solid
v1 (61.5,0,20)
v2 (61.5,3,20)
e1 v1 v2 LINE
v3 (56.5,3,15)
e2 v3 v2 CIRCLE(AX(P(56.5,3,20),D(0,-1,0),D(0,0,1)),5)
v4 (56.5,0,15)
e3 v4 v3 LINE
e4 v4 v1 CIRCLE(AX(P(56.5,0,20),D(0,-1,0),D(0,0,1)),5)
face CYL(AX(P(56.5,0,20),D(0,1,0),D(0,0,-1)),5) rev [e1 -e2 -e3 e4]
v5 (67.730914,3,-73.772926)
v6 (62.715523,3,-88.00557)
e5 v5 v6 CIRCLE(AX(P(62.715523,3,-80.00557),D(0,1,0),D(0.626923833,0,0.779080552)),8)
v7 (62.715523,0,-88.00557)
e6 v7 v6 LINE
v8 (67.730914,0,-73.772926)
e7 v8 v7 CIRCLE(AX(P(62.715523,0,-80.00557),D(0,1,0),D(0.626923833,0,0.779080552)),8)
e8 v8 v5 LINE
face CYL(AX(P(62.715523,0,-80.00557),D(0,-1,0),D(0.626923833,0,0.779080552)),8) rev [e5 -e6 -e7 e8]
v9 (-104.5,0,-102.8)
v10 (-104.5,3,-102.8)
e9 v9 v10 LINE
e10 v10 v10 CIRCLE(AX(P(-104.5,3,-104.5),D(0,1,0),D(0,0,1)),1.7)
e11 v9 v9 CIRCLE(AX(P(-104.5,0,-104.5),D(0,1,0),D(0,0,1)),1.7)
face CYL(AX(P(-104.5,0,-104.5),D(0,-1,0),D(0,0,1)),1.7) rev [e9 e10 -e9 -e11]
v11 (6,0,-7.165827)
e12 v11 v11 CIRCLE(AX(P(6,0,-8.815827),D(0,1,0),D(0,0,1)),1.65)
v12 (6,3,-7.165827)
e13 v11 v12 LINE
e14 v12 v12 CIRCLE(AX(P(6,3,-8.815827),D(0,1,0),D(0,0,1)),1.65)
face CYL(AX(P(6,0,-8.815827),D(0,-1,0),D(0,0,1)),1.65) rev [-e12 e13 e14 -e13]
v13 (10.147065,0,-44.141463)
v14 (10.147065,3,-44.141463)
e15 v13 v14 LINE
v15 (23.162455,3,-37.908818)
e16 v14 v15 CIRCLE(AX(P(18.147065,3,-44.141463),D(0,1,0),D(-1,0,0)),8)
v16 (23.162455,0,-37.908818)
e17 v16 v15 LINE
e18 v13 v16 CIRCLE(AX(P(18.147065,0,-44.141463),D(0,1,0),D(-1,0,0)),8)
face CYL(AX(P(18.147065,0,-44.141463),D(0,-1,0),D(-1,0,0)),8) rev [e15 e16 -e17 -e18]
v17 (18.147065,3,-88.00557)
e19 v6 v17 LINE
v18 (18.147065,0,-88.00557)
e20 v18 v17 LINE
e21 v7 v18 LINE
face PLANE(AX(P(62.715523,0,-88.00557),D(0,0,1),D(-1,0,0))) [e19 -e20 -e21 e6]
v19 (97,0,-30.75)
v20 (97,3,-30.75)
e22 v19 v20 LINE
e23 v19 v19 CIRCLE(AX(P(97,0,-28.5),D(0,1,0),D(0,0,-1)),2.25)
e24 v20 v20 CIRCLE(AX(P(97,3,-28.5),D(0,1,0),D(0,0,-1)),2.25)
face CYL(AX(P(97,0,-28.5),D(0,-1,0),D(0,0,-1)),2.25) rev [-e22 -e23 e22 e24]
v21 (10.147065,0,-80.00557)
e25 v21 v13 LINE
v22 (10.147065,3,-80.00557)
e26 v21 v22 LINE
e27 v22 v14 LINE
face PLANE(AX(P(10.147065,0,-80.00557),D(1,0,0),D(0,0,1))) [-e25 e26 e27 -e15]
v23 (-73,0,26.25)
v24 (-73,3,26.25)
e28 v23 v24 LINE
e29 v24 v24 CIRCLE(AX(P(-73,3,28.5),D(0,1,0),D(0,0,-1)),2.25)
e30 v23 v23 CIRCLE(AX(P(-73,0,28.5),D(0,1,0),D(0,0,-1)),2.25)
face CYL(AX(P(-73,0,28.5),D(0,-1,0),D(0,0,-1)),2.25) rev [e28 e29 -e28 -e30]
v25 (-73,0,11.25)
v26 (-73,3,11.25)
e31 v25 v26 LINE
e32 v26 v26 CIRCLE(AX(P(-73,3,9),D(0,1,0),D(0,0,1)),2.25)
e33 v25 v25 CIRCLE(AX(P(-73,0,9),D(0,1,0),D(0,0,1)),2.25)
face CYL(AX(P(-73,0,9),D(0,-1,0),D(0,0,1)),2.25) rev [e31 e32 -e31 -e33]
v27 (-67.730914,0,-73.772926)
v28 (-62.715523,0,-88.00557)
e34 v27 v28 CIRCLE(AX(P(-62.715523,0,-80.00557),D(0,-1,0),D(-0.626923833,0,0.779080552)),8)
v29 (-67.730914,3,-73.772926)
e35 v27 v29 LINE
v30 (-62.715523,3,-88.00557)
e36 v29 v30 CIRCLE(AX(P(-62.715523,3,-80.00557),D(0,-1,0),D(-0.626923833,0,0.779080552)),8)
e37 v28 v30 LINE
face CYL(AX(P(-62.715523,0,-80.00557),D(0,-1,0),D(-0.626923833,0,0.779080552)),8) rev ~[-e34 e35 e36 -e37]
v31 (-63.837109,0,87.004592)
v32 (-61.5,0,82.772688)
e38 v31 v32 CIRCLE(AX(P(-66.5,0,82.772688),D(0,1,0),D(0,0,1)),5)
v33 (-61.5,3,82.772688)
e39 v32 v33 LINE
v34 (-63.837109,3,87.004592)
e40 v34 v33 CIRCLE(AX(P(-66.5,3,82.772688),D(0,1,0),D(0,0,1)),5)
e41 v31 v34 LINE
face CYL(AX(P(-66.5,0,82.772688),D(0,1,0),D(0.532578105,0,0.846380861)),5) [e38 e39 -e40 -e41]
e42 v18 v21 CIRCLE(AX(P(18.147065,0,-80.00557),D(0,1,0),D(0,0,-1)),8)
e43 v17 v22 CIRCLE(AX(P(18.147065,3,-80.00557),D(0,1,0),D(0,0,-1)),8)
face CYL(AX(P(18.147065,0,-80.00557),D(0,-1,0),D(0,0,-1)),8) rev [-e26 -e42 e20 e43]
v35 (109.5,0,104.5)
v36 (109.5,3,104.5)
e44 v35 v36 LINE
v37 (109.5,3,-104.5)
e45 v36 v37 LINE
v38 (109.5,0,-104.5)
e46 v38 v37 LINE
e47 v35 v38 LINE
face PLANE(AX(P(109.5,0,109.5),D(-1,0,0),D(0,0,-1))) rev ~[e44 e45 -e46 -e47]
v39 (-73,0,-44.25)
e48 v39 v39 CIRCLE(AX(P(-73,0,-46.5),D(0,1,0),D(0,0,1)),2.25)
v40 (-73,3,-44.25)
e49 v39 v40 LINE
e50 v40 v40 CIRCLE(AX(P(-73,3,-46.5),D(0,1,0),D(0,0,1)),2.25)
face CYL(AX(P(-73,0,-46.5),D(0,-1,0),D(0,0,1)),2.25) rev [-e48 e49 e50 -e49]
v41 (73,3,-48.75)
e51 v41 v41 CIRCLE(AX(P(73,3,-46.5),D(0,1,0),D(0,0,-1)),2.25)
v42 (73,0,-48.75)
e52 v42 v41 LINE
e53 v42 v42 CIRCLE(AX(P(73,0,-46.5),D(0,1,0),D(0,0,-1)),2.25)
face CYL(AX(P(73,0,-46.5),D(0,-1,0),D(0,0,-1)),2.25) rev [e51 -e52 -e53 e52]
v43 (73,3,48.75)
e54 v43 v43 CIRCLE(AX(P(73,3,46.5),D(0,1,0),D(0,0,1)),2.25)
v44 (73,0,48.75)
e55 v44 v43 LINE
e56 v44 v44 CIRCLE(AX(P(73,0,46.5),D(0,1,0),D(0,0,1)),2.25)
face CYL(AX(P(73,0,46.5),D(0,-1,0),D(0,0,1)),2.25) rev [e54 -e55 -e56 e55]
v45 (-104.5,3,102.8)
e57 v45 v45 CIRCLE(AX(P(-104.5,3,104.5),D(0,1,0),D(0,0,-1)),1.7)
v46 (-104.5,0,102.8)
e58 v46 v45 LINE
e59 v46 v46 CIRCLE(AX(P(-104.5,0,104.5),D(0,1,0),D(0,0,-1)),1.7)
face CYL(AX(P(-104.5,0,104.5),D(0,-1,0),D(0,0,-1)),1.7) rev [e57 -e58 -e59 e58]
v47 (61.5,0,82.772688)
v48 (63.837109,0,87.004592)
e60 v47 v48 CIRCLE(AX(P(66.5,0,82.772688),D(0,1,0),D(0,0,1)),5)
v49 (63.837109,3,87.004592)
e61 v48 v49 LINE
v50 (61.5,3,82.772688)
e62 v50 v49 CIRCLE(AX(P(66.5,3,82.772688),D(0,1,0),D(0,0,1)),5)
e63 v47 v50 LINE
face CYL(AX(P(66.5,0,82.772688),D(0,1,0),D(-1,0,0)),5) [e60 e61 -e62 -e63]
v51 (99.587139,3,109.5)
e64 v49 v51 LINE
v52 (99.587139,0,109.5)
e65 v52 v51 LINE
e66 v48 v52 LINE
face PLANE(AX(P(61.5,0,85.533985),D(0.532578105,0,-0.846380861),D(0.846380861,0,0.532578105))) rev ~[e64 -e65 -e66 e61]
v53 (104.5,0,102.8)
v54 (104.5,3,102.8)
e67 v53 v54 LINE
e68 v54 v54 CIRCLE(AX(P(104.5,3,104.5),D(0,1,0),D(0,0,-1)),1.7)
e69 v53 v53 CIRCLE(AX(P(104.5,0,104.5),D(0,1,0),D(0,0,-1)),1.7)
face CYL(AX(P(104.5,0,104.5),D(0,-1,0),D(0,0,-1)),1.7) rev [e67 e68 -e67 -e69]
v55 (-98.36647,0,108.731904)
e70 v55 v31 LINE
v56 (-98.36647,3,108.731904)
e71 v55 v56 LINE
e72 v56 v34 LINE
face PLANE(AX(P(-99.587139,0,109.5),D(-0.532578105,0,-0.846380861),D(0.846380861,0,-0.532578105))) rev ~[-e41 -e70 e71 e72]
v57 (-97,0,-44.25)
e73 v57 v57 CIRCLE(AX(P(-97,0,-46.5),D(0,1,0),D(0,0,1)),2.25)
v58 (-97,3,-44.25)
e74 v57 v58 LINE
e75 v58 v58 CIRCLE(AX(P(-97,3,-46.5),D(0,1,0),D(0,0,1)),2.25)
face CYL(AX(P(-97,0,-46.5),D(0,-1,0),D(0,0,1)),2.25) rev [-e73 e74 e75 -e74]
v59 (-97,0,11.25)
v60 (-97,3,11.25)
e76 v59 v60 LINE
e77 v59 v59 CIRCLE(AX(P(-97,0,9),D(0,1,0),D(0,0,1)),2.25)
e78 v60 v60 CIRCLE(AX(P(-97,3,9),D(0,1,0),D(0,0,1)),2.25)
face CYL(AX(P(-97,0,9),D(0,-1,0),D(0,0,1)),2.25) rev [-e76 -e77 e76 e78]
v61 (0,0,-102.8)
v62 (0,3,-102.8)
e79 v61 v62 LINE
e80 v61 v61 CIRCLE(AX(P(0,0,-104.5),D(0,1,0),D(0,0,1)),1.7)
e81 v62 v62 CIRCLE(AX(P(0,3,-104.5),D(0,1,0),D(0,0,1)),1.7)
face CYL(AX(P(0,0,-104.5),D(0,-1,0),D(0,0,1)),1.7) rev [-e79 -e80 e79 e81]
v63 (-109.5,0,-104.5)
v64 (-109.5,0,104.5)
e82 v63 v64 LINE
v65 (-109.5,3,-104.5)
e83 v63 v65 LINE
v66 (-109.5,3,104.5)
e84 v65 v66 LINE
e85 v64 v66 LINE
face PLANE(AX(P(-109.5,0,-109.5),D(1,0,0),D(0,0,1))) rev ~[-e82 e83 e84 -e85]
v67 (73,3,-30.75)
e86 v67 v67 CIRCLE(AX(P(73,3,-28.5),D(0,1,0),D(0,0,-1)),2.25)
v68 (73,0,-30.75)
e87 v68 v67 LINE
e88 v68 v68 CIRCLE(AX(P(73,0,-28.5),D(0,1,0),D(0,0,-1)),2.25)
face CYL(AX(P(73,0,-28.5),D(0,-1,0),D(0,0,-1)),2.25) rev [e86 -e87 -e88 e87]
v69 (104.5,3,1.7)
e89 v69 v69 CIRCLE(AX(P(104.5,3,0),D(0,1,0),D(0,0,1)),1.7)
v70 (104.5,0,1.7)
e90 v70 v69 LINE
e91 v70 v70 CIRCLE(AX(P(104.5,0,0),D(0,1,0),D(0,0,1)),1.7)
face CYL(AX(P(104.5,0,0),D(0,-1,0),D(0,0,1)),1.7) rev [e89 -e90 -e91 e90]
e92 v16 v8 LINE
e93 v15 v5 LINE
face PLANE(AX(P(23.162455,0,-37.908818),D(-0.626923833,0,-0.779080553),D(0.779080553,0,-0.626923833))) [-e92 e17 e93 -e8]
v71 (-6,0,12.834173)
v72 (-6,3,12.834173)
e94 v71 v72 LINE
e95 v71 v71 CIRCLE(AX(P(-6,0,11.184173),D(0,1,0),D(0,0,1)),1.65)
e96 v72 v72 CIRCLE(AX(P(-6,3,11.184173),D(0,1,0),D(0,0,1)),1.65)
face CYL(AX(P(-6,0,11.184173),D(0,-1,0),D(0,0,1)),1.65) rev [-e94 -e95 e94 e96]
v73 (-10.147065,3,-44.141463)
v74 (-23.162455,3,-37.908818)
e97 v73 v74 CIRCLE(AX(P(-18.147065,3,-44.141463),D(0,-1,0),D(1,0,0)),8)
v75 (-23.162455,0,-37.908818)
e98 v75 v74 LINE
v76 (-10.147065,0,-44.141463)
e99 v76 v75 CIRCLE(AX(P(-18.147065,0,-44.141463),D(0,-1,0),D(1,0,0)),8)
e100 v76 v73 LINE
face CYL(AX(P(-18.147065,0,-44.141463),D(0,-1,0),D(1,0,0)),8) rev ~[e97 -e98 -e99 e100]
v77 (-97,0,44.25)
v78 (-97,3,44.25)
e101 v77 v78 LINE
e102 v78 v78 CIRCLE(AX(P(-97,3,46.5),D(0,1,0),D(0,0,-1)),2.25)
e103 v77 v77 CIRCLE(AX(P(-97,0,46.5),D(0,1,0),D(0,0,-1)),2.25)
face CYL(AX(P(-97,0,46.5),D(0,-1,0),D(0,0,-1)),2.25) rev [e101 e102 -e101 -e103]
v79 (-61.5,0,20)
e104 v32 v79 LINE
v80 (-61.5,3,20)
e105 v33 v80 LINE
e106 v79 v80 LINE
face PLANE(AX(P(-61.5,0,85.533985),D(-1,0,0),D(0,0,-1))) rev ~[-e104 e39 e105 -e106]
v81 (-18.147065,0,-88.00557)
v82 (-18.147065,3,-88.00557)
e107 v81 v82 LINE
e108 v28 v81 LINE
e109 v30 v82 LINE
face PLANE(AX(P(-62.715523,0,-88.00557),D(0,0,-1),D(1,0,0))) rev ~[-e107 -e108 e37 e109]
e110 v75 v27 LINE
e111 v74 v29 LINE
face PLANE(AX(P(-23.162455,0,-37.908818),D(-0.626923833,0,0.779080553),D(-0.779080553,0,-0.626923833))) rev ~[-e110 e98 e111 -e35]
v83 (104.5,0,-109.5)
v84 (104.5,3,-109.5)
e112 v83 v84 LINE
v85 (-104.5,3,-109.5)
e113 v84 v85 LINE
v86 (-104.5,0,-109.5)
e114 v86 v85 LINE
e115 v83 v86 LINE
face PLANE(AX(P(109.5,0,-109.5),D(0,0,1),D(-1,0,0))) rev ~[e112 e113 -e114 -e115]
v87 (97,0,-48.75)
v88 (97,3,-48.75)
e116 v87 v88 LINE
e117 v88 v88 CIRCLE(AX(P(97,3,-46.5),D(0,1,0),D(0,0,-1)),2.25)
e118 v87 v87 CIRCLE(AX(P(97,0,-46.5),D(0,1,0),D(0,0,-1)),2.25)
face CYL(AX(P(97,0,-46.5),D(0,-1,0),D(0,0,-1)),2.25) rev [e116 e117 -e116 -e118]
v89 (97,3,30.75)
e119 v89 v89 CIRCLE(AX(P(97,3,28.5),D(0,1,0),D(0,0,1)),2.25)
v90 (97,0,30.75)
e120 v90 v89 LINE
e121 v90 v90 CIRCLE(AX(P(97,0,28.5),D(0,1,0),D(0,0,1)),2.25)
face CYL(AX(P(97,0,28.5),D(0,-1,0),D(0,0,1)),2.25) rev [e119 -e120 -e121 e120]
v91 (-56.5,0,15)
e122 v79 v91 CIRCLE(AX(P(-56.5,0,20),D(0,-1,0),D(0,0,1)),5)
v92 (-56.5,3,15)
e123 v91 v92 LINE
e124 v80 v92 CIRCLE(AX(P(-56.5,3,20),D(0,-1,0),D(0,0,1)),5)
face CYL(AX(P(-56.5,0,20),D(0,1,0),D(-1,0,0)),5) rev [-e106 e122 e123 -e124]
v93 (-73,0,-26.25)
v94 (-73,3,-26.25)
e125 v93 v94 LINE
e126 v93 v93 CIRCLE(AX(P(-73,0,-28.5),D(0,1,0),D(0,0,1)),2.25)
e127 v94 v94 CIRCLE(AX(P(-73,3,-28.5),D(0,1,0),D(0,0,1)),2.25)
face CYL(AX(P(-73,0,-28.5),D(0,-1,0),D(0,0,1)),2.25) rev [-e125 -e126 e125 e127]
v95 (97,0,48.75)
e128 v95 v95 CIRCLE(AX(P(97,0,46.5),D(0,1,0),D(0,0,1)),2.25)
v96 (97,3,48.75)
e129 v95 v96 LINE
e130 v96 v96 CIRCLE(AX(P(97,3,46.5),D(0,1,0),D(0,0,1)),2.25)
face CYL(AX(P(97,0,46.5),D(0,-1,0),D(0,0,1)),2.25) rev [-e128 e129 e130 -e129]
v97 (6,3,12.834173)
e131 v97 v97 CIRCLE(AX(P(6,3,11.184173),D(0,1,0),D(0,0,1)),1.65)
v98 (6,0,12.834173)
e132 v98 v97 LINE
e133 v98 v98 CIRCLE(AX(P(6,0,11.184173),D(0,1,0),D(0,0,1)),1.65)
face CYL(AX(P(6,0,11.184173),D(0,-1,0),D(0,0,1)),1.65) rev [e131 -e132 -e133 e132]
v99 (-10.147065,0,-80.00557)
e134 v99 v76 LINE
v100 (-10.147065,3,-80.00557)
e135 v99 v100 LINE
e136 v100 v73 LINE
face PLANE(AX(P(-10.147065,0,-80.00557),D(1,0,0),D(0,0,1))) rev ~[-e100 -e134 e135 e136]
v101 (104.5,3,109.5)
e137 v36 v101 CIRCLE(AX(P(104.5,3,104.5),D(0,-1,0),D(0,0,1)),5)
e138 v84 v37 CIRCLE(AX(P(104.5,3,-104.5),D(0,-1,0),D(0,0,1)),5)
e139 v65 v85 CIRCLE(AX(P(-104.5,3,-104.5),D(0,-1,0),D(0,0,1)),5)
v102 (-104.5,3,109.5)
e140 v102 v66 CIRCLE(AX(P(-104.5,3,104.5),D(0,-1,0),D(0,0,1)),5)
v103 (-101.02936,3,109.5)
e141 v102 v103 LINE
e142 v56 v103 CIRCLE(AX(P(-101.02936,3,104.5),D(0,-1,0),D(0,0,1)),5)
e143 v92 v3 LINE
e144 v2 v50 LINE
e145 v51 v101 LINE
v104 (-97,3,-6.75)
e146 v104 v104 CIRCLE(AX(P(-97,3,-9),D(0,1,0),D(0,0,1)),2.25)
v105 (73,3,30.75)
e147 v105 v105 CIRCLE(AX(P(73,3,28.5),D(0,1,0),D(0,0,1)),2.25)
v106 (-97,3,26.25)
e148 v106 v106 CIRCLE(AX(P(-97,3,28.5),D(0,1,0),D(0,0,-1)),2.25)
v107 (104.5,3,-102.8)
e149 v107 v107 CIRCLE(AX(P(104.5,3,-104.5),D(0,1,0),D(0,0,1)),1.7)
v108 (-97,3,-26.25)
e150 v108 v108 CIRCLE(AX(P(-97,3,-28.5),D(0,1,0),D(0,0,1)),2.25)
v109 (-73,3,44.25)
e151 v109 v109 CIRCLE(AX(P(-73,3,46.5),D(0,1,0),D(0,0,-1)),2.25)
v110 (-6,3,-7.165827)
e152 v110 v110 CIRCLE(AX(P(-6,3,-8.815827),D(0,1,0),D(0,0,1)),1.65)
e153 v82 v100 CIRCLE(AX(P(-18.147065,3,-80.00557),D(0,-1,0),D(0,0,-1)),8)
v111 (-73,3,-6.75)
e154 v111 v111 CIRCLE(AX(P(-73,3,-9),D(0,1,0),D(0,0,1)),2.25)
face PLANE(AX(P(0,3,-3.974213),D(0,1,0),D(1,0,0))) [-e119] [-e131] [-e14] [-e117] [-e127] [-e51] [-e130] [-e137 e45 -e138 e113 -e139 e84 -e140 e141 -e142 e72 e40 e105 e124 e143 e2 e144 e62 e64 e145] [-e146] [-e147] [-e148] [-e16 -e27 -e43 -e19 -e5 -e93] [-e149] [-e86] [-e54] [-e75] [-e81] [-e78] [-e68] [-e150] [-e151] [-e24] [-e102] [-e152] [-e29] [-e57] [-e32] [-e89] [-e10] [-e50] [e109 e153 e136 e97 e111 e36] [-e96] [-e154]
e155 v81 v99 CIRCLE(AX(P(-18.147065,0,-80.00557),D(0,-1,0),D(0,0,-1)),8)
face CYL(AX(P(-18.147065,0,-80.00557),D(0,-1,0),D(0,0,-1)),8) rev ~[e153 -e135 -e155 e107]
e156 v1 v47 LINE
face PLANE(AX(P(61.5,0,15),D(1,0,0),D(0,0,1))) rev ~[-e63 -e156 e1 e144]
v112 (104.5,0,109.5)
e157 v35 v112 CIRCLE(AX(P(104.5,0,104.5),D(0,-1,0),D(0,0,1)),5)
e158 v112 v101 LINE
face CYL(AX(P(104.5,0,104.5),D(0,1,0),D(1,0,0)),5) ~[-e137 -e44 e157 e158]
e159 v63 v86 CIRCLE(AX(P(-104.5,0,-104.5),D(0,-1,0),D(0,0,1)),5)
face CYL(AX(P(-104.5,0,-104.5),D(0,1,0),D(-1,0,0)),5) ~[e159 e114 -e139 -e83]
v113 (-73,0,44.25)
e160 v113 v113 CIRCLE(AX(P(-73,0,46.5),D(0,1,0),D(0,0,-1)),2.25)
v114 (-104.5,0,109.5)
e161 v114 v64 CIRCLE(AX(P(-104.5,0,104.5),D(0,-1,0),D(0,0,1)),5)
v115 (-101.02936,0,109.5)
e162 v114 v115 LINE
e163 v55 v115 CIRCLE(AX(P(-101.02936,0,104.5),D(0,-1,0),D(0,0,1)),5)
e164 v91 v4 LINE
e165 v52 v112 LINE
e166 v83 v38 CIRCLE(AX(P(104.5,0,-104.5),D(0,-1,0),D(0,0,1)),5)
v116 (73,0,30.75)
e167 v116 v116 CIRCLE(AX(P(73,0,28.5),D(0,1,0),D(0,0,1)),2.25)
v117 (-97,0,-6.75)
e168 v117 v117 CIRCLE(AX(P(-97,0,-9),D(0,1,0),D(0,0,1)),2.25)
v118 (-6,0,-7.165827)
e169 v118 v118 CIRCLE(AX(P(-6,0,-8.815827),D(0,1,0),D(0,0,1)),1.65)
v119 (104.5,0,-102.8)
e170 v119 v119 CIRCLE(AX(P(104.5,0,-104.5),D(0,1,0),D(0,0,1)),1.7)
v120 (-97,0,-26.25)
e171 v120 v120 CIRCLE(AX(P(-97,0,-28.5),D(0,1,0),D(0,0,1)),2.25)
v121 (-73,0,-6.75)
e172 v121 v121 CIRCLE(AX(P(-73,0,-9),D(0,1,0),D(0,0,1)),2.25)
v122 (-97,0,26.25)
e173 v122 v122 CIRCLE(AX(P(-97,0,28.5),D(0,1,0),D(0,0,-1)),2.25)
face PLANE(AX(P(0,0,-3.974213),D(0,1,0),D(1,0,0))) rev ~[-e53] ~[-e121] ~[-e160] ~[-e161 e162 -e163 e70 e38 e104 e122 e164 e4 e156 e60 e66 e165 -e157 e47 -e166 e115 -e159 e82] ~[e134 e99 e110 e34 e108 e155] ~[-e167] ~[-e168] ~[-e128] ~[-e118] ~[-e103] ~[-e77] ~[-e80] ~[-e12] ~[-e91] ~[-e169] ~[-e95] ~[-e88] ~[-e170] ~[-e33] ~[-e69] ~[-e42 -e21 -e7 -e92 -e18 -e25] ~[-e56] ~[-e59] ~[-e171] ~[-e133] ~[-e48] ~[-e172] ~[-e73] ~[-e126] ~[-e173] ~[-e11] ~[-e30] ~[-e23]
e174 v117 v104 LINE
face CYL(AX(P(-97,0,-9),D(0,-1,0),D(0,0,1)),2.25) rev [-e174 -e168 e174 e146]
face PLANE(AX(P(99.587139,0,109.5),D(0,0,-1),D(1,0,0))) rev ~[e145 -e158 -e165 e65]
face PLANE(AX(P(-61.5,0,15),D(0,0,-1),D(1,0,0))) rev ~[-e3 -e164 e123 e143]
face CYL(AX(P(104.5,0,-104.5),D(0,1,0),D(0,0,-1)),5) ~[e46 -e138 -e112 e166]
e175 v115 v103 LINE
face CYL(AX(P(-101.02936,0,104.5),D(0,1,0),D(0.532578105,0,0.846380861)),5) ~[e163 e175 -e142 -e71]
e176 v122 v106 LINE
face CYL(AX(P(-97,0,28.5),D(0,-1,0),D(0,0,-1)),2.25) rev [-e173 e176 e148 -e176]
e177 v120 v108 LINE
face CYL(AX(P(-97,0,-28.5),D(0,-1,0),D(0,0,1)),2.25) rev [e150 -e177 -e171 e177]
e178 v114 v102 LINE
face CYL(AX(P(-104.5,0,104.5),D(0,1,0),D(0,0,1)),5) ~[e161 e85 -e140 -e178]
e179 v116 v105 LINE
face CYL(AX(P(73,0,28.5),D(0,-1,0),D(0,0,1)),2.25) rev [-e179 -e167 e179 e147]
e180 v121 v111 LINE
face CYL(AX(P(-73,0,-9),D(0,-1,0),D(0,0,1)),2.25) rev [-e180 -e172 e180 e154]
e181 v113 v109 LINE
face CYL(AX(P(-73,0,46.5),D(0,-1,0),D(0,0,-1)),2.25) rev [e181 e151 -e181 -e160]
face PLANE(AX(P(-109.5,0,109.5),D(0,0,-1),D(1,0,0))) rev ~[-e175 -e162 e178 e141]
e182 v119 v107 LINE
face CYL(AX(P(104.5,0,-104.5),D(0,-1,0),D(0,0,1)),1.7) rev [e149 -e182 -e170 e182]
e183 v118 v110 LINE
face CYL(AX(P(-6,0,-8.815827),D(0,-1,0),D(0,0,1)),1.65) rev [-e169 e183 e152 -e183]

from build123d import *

# Parameters (mm, degrees)
SKETCH1_R           = 1.7
SKETCH1_R_2         = 2.25
SKETCH1_R_3         = 1.65
BOSS_EXTRUDE1_DEPTH = 3
FILLET1_R           = 5


with BuildPart() as part:
    # Sketch1 → Boss-Extrude1 (new body)
    with BuildSketch(Plane(origin=(0, 0, 0), x_dir=(1, 0, 0), z_dir=(0, 1, 0))):
        Polygon((-99.587138739, -109.5), (-61.5, -85.533985256), (-61.5, -15), (61.5, -15), (61.5, -85.533985256), (99.587138739, -109.5), (109.5, -109.5), (109.5, 109.5), (-109.5, 109.5), (-109.5, -109.5), align=None)
        with Locations(Location((-104.5, 104.5, 0), (0, 0, 270))):
            Circle(SKETCH1_R, mode=Mode.SUBTRACT)
        with Locations(Location((104.5, 104.5, 0), (0, 0, 270))):
            Circle(SKETCH1_R, mode=Mode.SUBTRACT)
        with Locations(Location((104.5, -104.5, 0), (0, 0, 90))):
            Circle(SKETCH1_R, mode=Mode.SUBTRACT)
        with Locations(Location((-104.5, -104.5, 0), (0, 0, 90))):
            Circle(SKETCH1_R, mode=Mode.SUBTRACT)
        with Locations(Location((-97, 9, 0), (0, 0, 270))):
            Circle(SKETCH1_R_2, mode=Mode.SUBTRACT)
        with Locations(Location((-73, 9, 0), (0, 0, 270))):
            Circle(SKETCH1_R_2, mode=Mode.SUBTRACT)
        with Locations(Location((-73, -9, 0), (0, 0, 270))):
            Circle(SKETCH1_R_2, mode=Mode.SUBTRACT)
        with Locations(Location((-97, -9, 0), (0, 0, 270))):
            Circle(SKETCH1_R_2, mode=Mode.SUBTRACT)
        with Locations(Location((-97, 46.5, 0), (0, 0, 270))):
            Circle(SKETCH1_R_2, mode=Mode.SUBTRACT)
        with Locations(Location((-73, 46.5, 0), (0, 0, 270))):
            Circle(SKETCH1_R_2, mode=Mode.SUBTRACT)
        with Locations(Location((-73, 28.5, 0), (0, 0, 270))):
            Circle(SKETCH1_R_2, mode=Mode.SUBTRACT)
        with Locations(Location((-97, 28.5, 0), (0, 0, 270))):
            Circle(SKETCH1_R_2, mode=Mode.SUBTRACT)
        with Locations(Location((-97, -28.5, 0), (0, 0, 90))):
            Circle(SKETCH1_R_2, mode=Mode.SUBTRACT)
        with Locations(Location((-73, -28.5, 0), (0, 0, 90))):
            Circle(SKETCH1_R_2, mode=Mode.SUBTRACT)
        with Locations(Location((-73, -46.5, 0), (0, 0, 90))):
            Circle(SKETCH1_R_2, mode=Mode.SUBTRACT)
        with Locations(Location((-97, -46.5, 0), (0, 0, 90))):
            Circle(SKETCH1_R_2, mode=Mode.SUBTRACT)
        with Locations(Location((73, -46.5, 0), (0, 0, 270))):
            Circle(SKETCH1_R_2, mode=Mode.SUBTRACT)
        with Locations(Location((97, -46.5, 0), (0, 0, 270))):
            Circle(SKETCH1_R_2, mode=Mode.SUBTRACT)
        with Locations(Location((73, -28.5, 0), (0, 0, 270))):
            Circle(SKETCH1_R_2, mode=Mode.SUBTRACT)
        with Locations(Location((97, -28.5, 0), (0, 0, 270))):
            Circle(SKETCH1_R_2, mode=Mode.SUBTRACT)
        with Locations(Location((73, 28.5, 0), (0, 0, 90))):
            Circle(SKETCH1_R_2, mode=Mode.SUBTRACT)
        with Locations(Location((97, 28.5, 0), (0, 0, 90))):
            Circle(SKETCH1_R_2, mode=Mode.SUBTRACT)
        with Locations(Location((73, 46.5, 0), (0, 0, 90))):
            Circle(SKETCH1_R_2, mode=Mode.SUBTRACT)
        with Locations(Location((97, 46.5, 0), (0, 0, 90))):
            Circle(SKETCH1_R_2, mode=Mode.SUBTRACT)
        with Locations(Location((0, 104.5, 0), (0, 0, 270))):
            Circle(SKETCH1_R, mode=Mode.SUBTRACT)
        with Locations(Location((104.5, 0, 0), (0, 0, 270))):
            Circle(SKETCH1_R, mode=Mode.SUBTRACT)
        with Locations(Location((-6, 8.81582657, 0), (0, 0, 270))):
            Circle(SKETCH1_R_3, mode=Mode.SUBTRACT)
        with Locations(Location((6, 8.81582657, 0), (0, 0, 270))):
            Circle(SKETCH1_R_3, mode=Mode.SUBTRACT)
        with Locations(Location((6, -11.18417343, 0), (0, 0, 270))):
            Circle(SKETCH1_R_3, mode=Mode.SUBTRACT)
        with Locations(Location((-6, -11.18417343, 0), (0, 0, 270))):
            Circle(SKETCH1_R_3, mode=Mode.SUBTRACT)
        with BuildLine():
            Line((-10.147064808, 80.005570394), (-10.147064808, 44.141462897))
            ThreePointArc((-10.147064808, 44.141462897), (-14.691860424, 36.926093006), (-23.162455474, 37.908818476))
            Line((-23.162455474, 37.908818476), (-67.730913723, 73.772925974))
            ThreePointArc((-67.730913723, 73.772925974), (-70.260758486, 82.664408922), (-62.715523057, 88.005570394))
            Line((-62.715523057, 88.005570394), (-18.147064808, 88.005570394))
            ThreePointArc((-18.147064808, 88.005570394), (-12.490210559, 85.662424644), (-10.147064808, 80.005570394))
        make_face(mode=Mode.SUBTRACT)
        with BuildLine():
            Line((10.147064808, 80.005570394), (10.147064808, 44.141462897))
            ThreePointArc((10.147064808, 44.141462897), (14.691860424, 36.926093006), (23.162455474, 37.908818476))
            Line((23.162455474, 37.908818476), (67.730913723, 73.772925974))
            ThreePointArc((67.730913723, 73.772925974), (70.260758486, 82.664408922), (62.715523057, 88.005570394))
            Line((62.715523057, 88.005570394), (18.147064808, 88.005570394))
            ThreePointArc((18.147064808, 88.005570394), (12.490210559, 85.662424644), (10.147064808, 80.005570394))
        make_face(mode=Mode.SUBTRACT)
    extrude(amount=BOSS_EXTRUDE1_DEPTH)

    # Fillet1
    fillet1_edges = [part.edges().sort_by_distance(p)[0] for p in [
        (109.5, 1.5, 109.5),
        (61.5, 1.5, 85.533985256),
        (61.5, 1.5, 15),
        (-61.5, 1.5, 15),
        (-61.5, 1.5, 85.533985256),
        (-99.587138739, 1.5, 109.5),
        (-109.5, 1.5, 109.5),
        (-109.5, 1.5, -109.5),
        (109.5, 1.5, -109.5),
    ]]
    fillet(fillet1_edges, radius=FILLET1_R)


solid = part.part
